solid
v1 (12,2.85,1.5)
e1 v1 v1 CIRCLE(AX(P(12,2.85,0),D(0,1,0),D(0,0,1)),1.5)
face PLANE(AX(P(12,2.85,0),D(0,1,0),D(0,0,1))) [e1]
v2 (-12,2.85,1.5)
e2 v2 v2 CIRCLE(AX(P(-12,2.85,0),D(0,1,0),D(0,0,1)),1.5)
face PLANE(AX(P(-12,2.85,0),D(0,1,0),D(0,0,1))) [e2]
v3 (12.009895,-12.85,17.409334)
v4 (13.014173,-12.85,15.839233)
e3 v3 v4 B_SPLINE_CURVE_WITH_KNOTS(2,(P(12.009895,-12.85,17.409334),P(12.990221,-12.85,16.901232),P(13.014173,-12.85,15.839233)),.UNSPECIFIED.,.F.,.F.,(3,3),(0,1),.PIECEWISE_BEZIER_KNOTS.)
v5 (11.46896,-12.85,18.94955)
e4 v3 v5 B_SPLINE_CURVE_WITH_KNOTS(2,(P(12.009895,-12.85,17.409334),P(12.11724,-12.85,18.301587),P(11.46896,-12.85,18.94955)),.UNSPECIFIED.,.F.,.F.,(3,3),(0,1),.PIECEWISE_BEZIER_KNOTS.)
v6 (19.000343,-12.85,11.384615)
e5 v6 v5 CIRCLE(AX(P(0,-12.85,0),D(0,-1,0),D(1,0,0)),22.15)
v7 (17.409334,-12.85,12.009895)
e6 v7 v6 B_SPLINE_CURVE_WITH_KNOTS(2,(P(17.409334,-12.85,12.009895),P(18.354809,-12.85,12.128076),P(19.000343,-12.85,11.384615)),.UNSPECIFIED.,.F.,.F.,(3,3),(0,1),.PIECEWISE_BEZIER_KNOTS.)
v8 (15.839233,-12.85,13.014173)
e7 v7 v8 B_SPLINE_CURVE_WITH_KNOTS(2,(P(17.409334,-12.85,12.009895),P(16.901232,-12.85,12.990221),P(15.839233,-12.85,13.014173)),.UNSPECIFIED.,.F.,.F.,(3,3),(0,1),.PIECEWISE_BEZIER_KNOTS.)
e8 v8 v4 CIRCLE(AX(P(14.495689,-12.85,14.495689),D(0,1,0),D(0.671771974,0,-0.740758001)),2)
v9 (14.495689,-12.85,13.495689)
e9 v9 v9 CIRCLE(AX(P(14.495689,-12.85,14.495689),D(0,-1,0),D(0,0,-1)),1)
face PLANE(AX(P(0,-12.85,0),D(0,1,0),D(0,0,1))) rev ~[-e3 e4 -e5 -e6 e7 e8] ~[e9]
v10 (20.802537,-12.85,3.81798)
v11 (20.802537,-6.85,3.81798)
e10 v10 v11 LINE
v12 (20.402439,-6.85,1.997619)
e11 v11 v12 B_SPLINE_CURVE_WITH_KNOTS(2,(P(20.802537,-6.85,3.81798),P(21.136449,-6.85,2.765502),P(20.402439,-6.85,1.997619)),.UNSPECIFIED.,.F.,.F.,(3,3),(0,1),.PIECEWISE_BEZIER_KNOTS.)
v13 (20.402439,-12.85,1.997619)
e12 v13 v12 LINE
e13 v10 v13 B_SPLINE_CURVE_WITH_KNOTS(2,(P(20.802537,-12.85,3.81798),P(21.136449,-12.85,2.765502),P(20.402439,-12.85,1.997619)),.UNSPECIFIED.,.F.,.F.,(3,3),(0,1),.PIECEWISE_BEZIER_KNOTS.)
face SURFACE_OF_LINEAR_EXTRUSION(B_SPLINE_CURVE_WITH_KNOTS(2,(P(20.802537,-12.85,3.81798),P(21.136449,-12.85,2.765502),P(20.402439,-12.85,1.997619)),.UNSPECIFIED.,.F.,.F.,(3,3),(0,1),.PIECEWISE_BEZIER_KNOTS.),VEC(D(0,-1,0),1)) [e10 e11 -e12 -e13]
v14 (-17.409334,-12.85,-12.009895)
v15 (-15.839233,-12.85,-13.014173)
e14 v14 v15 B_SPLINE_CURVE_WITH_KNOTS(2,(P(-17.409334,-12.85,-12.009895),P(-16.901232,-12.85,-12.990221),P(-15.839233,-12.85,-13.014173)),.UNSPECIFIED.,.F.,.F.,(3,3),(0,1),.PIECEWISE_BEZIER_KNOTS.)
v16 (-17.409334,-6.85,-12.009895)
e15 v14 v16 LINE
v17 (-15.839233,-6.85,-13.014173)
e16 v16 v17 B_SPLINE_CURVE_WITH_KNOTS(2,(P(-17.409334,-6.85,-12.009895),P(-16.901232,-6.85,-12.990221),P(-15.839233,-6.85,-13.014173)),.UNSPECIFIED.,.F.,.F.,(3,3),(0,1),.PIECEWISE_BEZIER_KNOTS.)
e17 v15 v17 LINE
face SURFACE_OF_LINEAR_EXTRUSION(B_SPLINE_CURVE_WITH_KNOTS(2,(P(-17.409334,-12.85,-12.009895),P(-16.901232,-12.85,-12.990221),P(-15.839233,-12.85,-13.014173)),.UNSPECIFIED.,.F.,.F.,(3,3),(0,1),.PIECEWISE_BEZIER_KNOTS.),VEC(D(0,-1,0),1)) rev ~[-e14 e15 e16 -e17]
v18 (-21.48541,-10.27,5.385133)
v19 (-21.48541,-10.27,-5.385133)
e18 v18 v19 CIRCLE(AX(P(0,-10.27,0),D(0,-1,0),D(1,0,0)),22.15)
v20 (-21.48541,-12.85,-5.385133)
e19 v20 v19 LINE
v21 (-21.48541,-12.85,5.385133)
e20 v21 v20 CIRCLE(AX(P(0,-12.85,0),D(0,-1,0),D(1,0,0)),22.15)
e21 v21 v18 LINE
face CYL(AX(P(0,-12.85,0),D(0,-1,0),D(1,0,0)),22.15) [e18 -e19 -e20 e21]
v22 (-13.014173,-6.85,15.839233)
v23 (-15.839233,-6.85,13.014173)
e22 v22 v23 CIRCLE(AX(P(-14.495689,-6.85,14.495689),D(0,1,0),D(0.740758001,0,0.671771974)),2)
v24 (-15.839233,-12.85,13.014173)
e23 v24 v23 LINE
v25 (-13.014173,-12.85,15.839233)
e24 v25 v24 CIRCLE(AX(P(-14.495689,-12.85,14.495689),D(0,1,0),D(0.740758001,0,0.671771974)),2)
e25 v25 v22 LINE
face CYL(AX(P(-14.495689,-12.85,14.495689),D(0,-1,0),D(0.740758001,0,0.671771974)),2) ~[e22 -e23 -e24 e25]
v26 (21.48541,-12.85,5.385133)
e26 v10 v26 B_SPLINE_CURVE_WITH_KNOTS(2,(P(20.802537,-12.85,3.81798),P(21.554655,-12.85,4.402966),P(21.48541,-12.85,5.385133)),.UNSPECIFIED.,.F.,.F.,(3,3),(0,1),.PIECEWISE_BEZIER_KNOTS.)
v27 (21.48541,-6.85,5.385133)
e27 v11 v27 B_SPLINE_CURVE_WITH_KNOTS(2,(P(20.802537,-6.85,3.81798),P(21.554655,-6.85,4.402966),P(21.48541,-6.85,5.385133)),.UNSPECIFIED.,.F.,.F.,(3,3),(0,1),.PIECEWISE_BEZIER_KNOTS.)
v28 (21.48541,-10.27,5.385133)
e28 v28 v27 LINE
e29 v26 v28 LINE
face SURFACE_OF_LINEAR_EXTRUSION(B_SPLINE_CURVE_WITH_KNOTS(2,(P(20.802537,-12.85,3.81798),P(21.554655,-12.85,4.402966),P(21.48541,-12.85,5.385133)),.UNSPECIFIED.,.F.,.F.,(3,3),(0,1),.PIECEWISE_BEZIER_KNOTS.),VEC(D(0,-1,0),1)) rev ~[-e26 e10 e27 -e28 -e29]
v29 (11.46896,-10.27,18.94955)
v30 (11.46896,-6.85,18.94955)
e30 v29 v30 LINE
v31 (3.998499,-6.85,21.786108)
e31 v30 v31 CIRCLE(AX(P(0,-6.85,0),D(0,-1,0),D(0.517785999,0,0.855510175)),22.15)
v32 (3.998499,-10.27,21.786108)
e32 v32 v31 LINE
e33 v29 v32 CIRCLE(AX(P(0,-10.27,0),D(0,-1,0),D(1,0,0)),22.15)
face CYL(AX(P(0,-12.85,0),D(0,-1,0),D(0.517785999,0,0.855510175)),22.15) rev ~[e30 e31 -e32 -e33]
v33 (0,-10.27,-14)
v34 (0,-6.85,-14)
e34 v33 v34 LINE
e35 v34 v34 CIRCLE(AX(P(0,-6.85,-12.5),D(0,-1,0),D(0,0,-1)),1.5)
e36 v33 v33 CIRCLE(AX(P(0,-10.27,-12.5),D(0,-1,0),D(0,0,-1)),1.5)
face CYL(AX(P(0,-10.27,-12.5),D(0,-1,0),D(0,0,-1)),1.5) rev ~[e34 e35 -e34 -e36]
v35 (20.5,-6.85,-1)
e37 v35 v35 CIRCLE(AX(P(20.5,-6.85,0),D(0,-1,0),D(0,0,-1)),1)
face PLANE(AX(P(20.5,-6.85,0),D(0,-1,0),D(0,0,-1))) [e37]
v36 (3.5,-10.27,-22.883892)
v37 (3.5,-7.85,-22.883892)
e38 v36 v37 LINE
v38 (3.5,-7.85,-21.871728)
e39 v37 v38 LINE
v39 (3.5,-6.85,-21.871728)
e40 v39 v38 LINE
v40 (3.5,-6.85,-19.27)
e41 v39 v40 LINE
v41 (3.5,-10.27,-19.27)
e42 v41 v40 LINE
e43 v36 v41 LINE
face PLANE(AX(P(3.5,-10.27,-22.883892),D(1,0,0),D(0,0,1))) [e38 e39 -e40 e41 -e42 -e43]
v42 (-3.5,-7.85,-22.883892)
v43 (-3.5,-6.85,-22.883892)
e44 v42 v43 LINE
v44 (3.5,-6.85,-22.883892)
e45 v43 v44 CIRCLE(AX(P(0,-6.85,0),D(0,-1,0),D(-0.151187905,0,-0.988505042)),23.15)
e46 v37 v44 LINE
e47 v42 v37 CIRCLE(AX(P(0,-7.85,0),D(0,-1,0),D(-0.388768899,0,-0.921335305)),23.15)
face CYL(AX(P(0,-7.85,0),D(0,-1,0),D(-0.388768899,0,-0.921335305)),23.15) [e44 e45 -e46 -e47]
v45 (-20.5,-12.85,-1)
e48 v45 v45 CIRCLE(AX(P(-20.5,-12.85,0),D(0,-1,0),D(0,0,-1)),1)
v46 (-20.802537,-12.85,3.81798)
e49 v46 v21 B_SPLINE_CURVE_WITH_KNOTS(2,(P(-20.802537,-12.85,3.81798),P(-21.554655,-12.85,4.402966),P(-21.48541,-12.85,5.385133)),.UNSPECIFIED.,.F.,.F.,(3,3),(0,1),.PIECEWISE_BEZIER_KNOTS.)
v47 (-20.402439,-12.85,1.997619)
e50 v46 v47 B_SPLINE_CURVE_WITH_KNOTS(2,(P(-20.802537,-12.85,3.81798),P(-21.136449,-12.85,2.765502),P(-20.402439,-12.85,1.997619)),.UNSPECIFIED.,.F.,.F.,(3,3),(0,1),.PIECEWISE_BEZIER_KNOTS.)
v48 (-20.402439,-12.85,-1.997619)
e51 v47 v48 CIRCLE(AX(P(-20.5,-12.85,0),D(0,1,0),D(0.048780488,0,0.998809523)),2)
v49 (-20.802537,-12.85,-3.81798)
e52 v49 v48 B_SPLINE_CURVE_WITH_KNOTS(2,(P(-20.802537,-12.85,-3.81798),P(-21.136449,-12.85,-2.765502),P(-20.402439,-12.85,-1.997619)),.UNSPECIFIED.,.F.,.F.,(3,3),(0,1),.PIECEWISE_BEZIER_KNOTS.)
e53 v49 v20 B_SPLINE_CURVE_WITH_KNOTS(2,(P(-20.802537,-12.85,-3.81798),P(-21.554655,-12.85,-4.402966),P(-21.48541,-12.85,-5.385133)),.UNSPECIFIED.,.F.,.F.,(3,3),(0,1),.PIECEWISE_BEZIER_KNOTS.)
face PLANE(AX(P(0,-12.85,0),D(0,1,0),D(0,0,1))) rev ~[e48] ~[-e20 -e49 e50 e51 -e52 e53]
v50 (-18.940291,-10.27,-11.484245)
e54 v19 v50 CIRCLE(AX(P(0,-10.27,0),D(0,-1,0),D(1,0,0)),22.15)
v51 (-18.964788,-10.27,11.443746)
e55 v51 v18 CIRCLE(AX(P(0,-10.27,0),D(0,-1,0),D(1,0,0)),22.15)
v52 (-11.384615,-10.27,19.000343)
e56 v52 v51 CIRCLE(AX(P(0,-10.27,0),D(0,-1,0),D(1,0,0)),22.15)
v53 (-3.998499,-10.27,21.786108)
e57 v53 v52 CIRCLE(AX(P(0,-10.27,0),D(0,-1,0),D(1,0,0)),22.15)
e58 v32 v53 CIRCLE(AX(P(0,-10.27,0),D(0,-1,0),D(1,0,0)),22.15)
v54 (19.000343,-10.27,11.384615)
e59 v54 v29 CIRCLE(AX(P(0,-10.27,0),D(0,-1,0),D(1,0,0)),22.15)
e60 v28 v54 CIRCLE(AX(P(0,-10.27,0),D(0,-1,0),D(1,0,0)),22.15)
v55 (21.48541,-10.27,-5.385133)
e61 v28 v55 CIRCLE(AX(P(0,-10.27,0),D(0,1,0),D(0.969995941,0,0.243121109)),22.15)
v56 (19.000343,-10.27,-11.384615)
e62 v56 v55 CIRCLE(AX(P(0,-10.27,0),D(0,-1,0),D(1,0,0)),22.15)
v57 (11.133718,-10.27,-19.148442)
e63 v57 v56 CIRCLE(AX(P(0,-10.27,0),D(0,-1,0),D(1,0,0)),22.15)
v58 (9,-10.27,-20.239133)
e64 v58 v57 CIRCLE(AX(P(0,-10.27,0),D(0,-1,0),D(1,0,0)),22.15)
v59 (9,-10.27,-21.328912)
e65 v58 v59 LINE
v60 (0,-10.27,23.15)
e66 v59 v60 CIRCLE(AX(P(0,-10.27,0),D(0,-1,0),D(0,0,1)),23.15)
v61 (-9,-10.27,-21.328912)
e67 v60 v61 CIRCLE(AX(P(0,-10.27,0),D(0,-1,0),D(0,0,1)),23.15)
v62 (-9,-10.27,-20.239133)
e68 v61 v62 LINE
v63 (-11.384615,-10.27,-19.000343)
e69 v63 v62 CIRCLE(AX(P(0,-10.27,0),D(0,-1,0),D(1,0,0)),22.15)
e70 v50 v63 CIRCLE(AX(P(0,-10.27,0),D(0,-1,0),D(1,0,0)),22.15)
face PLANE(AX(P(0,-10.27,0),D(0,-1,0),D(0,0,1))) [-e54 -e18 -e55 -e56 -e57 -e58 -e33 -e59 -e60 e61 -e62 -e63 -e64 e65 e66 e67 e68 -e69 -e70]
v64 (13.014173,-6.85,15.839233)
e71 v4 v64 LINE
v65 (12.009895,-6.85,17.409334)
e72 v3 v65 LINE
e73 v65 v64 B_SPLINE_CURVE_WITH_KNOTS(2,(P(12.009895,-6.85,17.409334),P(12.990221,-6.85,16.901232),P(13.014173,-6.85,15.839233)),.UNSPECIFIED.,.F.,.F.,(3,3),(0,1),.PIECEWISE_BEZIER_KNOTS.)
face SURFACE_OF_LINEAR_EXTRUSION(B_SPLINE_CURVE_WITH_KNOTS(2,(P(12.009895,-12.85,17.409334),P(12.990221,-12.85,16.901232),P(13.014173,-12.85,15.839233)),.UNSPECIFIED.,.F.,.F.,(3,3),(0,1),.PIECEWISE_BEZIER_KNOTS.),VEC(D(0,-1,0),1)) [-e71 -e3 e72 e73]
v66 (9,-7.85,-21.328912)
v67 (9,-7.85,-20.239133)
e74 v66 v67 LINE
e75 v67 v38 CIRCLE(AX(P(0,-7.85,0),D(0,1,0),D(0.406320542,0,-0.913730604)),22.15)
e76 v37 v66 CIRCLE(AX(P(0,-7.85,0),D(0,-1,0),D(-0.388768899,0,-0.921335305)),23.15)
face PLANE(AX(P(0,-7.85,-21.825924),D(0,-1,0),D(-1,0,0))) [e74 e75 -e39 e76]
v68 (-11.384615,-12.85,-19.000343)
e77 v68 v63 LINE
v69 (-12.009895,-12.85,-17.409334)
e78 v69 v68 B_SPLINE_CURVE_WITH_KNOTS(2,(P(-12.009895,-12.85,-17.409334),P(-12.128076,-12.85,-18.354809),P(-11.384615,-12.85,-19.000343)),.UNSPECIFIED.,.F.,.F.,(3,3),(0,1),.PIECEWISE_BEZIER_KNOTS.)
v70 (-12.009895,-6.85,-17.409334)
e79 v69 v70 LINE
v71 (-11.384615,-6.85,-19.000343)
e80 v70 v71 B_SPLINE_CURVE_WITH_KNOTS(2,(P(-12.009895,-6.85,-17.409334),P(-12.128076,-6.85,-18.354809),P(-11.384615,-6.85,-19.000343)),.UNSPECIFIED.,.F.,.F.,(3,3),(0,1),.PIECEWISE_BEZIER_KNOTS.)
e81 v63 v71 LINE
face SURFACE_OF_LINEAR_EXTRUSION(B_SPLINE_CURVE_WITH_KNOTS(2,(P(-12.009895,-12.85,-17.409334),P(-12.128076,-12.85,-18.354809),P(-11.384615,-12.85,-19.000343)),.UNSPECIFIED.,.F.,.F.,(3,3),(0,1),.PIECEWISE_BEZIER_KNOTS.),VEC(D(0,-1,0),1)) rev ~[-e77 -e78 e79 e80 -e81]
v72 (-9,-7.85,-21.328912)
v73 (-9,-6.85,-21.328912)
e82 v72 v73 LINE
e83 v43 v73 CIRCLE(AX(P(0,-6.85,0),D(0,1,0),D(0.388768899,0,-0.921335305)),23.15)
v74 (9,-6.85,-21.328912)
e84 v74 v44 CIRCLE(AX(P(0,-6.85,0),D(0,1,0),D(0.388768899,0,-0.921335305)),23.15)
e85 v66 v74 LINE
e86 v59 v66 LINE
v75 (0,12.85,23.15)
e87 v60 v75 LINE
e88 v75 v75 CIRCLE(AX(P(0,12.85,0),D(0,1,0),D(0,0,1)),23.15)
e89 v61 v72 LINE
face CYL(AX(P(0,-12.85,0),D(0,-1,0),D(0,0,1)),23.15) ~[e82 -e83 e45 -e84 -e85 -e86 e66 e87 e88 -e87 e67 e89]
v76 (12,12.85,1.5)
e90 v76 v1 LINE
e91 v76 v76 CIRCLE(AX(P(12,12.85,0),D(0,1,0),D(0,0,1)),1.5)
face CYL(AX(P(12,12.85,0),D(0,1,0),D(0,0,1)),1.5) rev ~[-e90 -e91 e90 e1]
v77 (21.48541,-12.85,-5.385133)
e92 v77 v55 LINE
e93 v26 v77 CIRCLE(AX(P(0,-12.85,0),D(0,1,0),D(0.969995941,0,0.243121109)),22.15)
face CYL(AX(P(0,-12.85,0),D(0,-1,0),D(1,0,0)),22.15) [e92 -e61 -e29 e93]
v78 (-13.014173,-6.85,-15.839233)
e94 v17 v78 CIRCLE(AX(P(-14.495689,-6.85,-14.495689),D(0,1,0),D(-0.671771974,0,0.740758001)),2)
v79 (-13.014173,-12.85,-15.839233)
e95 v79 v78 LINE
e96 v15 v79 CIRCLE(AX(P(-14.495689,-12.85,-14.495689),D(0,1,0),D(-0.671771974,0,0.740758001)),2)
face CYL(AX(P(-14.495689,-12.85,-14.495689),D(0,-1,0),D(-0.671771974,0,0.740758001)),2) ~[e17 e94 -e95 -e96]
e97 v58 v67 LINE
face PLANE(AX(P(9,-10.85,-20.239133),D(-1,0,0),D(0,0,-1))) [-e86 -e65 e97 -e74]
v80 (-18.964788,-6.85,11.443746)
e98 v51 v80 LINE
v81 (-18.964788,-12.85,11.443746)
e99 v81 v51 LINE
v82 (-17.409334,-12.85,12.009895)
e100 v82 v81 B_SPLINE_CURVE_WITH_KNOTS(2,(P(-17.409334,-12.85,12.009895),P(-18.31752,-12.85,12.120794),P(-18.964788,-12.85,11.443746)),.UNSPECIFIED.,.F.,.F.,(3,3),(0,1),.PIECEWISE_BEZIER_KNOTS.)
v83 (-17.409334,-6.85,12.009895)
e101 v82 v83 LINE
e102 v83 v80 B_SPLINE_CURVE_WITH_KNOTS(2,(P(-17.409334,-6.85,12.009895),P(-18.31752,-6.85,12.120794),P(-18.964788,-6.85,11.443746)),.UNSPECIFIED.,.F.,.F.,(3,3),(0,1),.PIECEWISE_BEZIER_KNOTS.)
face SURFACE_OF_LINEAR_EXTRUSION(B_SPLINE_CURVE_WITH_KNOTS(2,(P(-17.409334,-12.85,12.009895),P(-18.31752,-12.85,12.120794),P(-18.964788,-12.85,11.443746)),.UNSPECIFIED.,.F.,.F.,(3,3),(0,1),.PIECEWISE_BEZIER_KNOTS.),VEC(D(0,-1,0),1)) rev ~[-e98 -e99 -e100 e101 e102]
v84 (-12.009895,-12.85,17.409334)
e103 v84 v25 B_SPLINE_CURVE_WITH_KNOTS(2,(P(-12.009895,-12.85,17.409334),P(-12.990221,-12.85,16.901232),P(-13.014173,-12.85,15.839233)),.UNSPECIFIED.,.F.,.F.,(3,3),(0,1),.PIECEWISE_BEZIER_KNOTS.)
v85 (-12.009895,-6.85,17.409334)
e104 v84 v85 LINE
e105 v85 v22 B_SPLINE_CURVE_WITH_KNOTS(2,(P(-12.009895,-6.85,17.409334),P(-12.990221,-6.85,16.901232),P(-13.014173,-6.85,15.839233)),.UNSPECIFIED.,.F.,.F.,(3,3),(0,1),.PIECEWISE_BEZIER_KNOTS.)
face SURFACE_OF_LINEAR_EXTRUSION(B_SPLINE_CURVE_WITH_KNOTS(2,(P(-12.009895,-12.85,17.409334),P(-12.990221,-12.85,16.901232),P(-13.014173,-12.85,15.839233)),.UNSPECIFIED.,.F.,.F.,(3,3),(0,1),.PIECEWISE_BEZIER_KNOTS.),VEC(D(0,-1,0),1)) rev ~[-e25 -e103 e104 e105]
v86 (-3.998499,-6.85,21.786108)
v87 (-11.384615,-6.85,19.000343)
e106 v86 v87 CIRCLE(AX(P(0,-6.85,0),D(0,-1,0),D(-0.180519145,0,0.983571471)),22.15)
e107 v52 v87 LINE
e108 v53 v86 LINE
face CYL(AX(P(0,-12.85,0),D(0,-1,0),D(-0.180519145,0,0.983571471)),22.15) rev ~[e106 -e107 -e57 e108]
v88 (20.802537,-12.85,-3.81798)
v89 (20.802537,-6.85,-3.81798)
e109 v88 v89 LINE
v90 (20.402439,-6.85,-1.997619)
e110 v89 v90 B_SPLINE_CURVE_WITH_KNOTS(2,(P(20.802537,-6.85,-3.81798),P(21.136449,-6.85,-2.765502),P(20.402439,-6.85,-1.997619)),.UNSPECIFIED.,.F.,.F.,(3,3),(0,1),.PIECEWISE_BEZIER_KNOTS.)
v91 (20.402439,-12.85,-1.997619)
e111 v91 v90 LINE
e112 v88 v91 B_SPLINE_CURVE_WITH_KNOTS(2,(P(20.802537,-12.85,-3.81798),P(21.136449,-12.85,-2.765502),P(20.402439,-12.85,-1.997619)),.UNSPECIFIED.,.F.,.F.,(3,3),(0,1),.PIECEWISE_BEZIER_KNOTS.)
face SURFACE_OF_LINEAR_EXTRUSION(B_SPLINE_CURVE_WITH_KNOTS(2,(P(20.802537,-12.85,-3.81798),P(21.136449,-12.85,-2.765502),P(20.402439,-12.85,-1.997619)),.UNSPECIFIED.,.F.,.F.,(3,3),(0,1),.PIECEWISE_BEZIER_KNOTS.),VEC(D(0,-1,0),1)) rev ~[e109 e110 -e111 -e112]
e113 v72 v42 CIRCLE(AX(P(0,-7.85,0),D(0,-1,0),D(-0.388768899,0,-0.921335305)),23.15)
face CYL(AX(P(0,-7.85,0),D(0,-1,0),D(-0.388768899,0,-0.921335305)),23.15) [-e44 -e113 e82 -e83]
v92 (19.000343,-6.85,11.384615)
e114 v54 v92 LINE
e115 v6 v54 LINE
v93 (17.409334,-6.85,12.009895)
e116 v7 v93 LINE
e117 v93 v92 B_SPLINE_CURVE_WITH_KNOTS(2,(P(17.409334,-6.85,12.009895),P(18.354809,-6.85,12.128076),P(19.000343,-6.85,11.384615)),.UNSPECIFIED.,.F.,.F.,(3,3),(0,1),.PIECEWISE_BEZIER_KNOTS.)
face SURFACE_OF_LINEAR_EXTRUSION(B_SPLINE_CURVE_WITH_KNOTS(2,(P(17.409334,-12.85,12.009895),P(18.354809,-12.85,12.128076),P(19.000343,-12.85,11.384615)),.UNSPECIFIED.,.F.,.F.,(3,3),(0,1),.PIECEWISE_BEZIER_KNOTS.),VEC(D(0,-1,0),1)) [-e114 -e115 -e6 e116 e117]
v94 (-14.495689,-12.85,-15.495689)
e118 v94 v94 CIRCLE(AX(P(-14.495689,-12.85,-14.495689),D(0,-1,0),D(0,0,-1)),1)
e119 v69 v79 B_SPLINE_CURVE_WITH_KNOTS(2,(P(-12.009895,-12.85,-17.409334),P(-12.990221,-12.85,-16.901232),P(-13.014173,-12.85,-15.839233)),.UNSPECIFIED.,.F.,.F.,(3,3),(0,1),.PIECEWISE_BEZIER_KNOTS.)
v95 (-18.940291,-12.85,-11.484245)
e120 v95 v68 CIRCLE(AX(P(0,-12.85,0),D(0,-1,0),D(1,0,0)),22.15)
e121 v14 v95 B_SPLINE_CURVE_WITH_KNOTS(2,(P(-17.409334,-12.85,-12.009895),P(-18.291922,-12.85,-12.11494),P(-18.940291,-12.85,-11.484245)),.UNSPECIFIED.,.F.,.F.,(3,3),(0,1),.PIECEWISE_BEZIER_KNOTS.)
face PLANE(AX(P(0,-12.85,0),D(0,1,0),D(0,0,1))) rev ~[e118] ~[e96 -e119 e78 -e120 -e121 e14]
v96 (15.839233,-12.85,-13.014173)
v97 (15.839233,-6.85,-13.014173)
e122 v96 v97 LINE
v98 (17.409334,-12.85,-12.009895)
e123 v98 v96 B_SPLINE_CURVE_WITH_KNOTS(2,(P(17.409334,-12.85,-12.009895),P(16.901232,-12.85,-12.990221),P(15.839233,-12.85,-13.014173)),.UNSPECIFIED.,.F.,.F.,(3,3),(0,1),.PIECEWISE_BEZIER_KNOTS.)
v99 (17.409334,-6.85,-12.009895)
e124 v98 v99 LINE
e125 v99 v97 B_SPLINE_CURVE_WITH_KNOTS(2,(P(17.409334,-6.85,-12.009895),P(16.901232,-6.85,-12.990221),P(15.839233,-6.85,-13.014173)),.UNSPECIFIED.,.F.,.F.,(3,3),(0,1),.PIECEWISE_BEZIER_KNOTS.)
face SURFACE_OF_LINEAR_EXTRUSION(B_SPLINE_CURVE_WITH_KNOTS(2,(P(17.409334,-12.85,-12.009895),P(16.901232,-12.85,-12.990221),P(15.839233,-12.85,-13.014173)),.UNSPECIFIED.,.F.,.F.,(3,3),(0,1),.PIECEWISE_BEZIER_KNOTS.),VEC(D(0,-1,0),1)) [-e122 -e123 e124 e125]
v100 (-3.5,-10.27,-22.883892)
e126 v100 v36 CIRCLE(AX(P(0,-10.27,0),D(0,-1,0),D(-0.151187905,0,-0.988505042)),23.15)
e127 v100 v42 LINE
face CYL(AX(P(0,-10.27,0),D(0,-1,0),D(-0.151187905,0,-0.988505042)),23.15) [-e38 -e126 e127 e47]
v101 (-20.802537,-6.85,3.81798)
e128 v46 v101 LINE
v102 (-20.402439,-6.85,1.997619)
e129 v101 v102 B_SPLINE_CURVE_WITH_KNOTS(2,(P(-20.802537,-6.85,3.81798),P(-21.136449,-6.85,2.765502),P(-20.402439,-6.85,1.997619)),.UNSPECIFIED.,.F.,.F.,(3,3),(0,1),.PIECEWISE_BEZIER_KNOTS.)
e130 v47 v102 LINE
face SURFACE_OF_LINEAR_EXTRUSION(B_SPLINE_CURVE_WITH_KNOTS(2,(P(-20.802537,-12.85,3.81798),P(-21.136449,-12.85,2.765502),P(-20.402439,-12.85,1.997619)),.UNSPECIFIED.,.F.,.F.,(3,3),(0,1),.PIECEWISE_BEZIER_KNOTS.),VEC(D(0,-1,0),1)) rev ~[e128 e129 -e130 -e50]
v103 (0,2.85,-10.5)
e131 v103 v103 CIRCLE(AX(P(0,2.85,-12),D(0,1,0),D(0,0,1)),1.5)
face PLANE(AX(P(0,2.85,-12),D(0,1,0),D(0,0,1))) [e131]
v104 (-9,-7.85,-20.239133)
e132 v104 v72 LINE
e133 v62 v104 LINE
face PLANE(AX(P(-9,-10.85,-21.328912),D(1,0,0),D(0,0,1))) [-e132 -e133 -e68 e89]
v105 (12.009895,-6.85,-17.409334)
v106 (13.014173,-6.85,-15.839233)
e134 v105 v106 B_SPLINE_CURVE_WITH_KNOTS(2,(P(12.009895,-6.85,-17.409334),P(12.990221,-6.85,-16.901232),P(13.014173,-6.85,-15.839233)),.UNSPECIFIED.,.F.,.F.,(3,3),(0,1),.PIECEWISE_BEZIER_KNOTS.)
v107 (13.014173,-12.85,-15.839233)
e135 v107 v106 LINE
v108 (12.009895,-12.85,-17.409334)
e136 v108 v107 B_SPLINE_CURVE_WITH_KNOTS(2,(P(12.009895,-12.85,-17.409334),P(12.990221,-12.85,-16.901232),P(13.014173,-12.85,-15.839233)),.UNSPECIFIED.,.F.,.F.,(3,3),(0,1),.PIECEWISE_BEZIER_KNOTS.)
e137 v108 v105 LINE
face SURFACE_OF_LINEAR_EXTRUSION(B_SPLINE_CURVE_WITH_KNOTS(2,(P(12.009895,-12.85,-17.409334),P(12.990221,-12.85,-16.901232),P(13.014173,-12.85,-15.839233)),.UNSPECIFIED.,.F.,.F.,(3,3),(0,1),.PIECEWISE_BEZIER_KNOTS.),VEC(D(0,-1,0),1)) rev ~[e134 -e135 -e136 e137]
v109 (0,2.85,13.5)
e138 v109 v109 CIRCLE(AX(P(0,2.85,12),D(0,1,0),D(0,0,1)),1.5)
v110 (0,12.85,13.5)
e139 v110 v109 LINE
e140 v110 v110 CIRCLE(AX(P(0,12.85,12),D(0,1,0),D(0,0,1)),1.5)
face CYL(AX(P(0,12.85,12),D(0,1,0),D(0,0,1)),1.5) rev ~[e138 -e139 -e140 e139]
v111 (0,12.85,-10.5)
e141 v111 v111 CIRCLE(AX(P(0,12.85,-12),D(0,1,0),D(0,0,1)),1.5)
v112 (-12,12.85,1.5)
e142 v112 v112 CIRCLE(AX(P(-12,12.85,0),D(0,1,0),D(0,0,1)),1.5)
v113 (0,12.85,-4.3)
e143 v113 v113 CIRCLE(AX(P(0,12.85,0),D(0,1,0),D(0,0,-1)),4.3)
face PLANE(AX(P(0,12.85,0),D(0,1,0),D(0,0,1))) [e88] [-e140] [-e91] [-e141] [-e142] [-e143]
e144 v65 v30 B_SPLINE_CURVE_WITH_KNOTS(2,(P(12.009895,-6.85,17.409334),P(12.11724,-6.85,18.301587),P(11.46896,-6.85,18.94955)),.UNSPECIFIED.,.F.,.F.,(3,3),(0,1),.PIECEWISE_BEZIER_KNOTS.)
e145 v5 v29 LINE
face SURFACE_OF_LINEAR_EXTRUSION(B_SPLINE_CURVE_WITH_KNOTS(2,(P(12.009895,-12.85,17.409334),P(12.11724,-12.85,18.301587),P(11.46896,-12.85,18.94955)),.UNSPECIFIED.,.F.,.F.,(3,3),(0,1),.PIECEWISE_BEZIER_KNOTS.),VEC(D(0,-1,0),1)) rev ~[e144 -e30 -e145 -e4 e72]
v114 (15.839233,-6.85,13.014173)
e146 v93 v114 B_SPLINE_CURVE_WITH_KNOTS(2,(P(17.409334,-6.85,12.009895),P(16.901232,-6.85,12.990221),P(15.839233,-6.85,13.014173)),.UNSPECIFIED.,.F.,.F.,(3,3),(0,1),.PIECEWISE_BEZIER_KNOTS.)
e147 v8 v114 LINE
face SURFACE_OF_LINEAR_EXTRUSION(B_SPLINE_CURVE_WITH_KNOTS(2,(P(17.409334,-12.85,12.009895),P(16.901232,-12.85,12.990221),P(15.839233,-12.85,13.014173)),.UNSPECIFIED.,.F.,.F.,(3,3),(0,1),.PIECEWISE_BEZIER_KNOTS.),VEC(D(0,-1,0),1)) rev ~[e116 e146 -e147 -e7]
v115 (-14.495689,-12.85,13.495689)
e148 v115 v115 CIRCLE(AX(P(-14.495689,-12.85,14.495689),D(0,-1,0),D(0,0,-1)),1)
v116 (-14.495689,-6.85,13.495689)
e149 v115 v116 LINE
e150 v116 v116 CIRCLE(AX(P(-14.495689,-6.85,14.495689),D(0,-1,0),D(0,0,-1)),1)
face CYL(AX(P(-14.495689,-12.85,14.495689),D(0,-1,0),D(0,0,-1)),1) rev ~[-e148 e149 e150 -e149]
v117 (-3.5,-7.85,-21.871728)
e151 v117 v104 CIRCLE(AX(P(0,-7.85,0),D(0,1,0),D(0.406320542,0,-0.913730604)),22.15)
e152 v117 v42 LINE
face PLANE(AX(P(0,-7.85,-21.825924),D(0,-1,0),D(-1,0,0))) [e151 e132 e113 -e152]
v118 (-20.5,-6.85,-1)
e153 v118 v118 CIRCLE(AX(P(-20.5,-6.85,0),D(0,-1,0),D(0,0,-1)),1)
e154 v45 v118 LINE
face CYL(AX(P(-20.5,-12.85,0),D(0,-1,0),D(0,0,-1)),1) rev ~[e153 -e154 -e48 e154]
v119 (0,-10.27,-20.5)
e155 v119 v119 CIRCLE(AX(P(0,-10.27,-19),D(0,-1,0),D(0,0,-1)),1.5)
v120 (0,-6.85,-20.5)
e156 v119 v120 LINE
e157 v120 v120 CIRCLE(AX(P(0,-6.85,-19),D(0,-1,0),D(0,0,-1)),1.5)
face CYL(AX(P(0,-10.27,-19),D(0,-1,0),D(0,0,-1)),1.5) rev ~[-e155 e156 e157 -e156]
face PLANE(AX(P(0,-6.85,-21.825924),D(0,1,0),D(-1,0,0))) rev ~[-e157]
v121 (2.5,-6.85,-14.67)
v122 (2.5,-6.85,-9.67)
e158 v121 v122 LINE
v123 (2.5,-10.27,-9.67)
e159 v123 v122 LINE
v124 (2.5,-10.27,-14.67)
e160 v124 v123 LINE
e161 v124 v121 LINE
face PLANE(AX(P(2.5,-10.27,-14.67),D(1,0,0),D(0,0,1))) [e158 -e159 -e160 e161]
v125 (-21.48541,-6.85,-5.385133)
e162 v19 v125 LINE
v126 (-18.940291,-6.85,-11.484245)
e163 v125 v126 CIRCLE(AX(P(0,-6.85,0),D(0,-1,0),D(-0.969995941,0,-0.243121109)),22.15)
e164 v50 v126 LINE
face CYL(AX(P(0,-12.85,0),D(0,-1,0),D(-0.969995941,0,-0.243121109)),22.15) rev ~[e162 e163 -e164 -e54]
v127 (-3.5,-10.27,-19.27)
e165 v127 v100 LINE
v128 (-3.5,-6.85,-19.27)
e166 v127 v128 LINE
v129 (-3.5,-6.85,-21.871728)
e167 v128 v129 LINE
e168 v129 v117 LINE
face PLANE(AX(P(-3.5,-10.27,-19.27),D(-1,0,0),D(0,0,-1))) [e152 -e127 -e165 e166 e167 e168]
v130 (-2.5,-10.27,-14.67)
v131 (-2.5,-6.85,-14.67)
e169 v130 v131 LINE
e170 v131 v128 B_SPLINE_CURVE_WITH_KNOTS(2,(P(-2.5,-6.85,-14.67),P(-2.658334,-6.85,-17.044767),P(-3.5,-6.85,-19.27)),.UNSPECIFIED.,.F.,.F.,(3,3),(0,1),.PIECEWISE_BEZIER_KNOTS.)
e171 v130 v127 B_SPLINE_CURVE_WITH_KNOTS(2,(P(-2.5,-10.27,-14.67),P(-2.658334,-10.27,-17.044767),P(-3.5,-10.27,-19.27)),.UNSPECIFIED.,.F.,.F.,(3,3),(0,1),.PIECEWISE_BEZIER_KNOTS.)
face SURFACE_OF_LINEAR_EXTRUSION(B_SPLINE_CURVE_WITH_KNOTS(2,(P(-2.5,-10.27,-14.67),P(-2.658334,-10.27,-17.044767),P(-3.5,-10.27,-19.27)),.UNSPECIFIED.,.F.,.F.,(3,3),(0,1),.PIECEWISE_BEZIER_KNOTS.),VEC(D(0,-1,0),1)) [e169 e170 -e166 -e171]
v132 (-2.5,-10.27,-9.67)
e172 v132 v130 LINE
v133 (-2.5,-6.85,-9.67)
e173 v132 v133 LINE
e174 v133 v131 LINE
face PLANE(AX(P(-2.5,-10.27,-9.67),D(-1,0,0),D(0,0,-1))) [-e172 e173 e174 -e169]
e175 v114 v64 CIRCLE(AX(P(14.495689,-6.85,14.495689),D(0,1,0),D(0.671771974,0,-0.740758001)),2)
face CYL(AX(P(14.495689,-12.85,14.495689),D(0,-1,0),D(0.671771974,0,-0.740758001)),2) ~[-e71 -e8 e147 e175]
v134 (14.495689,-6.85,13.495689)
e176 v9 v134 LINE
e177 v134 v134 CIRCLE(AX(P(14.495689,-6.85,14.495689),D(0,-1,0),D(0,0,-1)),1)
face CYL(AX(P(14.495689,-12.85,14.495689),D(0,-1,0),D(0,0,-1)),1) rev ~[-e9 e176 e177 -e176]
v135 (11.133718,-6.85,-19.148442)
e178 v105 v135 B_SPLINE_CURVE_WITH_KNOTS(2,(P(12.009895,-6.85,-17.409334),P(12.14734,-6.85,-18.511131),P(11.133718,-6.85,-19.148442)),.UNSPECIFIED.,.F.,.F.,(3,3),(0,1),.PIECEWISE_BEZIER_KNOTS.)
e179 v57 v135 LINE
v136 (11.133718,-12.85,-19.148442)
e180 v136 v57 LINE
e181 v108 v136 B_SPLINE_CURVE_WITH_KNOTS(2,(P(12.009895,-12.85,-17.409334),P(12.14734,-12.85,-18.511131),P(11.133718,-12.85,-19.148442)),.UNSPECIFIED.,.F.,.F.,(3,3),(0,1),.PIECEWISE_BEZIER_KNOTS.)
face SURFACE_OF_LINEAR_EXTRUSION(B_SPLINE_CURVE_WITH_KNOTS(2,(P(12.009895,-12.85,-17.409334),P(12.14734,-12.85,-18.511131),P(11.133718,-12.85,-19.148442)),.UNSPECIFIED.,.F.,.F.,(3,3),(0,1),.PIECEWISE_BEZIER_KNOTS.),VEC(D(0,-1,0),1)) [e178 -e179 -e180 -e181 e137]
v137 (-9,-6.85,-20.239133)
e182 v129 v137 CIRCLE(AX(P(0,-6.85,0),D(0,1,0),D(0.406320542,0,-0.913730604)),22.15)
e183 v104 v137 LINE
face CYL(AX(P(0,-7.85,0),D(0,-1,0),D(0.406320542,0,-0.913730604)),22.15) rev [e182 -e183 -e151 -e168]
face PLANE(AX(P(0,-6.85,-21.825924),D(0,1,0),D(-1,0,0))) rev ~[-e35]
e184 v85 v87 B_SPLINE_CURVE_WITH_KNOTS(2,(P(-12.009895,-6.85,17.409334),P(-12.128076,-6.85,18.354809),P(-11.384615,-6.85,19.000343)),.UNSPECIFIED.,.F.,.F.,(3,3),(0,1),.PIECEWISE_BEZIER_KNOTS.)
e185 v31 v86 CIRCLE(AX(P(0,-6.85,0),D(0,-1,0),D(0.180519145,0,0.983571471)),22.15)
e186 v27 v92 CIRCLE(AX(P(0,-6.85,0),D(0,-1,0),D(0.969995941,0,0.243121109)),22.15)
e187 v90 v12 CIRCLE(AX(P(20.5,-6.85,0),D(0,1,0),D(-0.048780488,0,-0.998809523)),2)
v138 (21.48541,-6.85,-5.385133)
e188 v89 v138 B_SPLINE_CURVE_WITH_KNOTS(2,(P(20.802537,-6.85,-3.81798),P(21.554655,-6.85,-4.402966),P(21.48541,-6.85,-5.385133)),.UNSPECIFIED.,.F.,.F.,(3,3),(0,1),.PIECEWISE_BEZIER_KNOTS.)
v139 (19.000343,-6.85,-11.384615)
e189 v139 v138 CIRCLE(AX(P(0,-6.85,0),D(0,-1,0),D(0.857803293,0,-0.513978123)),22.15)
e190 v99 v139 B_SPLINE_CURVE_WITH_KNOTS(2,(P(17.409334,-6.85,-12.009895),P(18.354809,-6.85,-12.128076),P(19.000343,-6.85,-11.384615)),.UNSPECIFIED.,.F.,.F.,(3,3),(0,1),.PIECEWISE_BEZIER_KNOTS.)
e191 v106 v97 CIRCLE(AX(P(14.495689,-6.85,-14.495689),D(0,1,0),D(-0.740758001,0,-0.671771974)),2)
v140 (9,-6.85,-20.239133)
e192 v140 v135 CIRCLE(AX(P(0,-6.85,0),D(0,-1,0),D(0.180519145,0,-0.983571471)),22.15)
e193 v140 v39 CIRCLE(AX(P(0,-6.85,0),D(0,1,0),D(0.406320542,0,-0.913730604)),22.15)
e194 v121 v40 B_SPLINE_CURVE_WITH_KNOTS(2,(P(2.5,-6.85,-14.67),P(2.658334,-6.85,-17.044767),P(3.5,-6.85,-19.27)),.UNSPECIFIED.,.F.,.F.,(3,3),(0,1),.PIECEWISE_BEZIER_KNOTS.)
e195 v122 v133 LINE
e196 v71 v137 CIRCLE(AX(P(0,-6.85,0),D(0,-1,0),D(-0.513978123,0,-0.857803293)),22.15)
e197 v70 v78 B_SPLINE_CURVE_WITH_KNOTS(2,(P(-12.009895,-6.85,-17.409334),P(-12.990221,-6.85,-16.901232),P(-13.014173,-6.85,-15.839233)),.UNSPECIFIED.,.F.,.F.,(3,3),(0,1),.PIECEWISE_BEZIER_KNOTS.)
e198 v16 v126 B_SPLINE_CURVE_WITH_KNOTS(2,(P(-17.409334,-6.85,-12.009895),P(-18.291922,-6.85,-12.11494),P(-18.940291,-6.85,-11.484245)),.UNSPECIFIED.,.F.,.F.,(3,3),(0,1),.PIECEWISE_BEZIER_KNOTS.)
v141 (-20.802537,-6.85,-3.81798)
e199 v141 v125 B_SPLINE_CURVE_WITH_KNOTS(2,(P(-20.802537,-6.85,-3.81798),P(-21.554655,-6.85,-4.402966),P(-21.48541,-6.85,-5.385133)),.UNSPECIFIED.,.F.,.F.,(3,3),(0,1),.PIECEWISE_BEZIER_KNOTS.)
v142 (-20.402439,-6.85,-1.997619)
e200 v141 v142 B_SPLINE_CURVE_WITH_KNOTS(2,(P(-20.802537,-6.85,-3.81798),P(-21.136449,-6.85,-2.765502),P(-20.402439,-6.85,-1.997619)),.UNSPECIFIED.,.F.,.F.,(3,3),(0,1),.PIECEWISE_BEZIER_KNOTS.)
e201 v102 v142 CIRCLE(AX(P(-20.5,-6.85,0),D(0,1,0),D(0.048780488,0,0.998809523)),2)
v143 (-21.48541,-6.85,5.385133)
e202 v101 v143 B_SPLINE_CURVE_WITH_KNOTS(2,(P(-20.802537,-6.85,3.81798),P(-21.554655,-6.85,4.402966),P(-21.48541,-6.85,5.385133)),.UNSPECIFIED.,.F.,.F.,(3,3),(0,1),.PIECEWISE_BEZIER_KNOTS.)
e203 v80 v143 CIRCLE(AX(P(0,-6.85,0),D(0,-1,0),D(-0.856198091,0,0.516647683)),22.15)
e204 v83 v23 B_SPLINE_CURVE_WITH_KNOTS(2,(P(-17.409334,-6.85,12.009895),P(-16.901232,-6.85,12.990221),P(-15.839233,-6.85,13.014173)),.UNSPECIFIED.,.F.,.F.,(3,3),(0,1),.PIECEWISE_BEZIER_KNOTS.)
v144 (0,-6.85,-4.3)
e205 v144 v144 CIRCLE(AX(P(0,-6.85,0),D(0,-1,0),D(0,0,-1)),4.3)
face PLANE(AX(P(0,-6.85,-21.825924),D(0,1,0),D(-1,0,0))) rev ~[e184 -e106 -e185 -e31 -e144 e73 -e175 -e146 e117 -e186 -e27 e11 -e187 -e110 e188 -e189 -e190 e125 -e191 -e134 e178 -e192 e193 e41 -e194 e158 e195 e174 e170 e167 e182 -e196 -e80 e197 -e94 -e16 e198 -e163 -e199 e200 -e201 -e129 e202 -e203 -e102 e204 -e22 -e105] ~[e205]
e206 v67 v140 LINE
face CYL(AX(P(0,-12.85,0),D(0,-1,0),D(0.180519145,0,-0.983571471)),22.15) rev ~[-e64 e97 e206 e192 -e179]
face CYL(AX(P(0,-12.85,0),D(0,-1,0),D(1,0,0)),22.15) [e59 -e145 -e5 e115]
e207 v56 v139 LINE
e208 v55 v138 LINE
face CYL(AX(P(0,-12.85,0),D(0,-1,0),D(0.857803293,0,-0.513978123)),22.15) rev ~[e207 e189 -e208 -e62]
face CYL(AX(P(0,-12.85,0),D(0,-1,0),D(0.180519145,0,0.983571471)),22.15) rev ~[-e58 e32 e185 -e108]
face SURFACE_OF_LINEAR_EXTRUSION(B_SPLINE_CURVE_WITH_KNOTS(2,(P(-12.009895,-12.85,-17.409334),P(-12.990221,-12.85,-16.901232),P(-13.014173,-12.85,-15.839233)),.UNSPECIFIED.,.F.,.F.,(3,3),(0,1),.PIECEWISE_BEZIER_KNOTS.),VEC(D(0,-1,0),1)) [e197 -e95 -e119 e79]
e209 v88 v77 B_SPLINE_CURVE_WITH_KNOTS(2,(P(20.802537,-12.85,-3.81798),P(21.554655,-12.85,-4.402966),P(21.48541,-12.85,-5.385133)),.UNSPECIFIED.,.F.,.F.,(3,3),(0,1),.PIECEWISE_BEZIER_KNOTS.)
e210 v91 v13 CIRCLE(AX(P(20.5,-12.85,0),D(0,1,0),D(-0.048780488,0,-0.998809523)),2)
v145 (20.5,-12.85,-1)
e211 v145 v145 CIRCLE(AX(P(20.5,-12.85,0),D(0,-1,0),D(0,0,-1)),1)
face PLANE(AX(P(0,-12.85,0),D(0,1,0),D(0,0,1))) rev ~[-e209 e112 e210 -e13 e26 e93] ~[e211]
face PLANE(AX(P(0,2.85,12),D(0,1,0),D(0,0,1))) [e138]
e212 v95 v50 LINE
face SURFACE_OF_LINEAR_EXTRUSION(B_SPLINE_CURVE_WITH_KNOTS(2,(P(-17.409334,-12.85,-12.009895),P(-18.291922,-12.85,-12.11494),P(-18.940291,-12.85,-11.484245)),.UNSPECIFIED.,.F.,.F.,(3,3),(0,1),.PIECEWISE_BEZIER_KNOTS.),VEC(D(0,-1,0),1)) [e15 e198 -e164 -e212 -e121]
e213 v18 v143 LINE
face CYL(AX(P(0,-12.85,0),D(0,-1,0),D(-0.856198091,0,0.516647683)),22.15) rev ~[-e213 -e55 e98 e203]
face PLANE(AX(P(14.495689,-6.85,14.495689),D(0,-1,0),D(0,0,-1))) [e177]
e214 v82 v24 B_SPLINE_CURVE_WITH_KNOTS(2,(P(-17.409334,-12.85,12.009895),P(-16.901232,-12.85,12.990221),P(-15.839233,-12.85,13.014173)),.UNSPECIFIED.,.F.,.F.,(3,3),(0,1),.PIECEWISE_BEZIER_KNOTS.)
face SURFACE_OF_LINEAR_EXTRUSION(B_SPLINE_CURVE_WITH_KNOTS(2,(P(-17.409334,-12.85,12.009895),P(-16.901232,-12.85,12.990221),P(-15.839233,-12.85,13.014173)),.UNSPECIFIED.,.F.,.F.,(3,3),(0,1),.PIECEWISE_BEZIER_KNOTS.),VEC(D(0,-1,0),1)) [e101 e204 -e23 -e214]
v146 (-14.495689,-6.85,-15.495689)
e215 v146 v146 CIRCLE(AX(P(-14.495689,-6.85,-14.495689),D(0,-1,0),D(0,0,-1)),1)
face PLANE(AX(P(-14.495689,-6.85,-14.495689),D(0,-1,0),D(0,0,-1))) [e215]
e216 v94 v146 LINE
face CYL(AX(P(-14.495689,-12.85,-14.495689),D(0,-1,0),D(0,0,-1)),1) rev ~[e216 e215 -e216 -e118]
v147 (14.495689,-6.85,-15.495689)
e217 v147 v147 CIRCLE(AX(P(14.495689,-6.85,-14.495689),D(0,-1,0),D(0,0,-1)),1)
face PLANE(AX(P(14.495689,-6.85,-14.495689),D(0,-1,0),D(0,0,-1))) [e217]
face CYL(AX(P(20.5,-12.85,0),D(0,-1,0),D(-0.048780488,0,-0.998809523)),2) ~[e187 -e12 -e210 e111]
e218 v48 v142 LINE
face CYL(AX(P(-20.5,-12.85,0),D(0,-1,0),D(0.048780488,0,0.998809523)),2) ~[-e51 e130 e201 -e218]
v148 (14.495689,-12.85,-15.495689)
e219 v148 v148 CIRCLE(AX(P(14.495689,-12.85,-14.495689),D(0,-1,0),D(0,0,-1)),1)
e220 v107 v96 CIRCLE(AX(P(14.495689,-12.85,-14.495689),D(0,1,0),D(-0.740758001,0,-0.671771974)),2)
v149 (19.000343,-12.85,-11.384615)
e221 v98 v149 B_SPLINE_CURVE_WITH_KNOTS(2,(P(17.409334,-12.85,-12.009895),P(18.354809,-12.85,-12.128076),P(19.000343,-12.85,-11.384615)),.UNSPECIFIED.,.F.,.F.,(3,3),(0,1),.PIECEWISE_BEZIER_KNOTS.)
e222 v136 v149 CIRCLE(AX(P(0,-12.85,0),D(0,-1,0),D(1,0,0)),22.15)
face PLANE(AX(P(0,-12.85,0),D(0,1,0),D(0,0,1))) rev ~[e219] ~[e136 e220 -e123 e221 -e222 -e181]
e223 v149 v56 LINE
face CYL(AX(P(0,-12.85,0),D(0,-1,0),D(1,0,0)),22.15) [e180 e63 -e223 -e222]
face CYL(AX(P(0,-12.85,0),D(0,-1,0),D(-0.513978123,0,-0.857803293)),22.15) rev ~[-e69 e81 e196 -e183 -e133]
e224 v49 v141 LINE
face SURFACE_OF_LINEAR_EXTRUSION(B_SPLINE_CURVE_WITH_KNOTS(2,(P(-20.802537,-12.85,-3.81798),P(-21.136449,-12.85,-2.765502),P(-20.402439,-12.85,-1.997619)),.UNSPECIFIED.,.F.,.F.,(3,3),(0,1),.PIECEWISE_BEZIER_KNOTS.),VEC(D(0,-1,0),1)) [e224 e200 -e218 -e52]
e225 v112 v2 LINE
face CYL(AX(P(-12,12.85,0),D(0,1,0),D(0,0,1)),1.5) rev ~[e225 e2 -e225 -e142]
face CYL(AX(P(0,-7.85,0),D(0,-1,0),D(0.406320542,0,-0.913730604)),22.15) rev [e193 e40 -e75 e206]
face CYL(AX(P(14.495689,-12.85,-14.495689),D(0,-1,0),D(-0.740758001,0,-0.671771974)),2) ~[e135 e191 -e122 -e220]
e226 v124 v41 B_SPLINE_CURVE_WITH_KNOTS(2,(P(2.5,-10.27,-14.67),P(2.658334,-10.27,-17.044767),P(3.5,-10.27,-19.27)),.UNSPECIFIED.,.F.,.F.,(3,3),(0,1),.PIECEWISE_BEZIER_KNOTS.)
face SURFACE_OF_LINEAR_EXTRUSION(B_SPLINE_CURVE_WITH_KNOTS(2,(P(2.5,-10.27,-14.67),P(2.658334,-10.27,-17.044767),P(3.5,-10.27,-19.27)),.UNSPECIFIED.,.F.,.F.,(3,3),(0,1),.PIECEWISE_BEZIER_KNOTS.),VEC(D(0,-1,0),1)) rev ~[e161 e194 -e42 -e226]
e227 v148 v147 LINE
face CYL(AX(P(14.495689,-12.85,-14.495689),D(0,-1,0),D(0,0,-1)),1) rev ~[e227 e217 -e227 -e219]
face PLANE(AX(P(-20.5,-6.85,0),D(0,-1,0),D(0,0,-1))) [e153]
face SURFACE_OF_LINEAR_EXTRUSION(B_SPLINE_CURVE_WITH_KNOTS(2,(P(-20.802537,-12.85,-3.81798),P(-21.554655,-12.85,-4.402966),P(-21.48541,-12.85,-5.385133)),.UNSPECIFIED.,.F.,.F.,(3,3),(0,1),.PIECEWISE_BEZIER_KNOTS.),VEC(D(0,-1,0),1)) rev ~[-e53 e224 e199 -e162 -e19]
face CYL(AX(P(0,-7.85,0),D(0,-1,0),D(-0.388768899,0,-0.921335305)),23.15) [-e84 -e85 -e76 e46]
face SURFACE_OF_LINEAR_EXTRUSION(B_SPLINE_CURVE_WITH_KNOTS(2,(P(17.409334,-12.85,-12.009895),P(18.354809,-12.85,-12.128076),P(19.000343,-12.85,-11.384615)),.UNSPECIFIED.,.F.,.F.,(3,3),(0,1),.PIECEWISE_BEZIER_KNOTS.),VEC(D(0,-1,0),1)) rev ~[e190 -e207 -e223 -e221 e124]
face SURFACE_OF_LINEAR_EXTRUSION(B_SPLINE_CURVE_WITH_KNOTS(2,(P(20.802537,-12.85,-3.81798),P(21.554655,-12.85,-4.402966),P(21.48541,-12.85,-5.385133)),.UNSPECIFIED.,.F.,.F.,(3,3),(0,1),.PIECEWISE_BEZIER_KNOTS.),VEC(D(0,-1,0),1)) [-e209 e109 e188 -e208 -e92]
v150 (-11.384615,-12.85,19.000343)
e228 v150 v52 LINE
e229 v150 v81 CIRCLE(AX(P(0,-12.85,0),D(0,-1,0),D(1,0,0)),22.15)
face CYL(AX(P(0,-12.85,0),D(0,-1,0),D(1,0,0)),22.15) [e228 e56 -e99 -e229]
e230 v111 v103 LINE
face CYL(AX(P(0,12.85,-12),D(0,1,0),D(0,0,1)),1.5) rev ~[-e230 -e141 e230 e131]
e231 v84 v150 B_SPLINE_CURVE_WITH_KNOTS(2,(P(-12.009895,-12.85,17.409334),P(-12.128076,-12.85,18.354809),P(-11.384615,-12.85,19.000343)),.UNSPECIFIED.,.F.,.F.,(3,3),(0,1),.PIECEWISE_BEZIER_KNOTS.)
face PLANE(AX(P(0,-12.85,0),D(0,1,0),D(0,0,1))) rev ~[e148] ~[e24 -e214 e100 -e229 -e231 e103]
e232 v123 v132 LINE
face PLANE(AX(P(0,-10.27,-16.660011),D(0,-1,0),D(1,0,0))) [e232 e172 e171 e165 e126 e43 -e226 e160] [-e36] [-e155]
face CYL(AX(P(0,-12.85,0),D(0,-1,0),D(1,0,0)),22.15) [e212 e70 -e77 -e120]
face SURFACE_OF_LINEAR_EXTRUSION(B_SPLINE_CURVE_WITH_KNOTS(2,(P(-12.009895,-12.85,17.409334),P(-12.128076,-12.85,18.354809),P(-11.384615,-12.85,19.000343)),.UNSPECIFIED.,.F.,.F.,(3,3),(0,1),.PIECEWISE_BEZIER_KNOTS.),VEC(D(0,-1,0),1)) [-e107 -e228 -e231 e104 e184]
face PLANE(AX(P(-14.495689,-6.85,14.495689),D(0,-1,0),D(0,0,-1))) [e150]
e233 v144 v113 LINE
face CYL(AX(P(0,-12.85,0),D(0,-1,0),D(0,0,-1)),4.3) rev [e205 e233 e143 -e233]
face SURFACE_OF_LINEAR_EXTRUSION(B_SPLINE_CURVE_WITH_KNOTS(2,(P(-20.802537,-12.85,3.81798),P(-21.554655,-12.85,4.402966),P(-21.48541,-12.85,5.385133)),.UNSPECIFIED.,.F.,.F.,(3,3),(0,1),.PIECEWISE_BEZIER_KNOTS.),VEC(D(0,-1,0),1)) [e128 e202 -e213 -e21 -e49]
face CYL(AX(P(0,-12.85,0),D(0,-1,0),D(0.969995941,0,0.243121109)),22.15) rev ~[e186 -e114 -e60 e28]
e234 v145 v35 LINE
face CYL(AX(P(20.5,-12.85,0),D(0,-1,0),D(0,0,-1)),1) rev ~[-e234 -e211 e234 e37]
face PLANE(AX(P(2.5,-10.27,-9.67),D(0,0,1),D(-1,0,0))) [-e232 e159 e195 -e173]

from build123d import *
from build123d.topology import SkipClean

# Parameters (mm, degrees)
EXTRUDE_1_DEPTH          = 12.85
EXTRUDE_1_DEPTH_BACK     = 12.85
SKETCH_1_R               = 23.15
CUT_EXTRUDE_1_DEPTH      = 12.85
CUT_EXTRUDE_1_DEPTH_BACK = 12.85
SKETCH_2_R               = 4.3
SKETCH_5_R               = 4.3
SKETCH_5_R_2             = 1
CUT_EXTRUDE_2_DEPTH      = 6
SKETCH_7_R               = 23.15
SKETCH_7_R_2             = 22.15
CUT_EXTRUDE_8_DEPTH      = 2.58
CUT_EXTRUDE_START        = 4
CUT_EXTRUDE_10_DEPTH     = 4
EXTRUDE_2_DEPTH          = 1
EXTRUDE_START            = 3.42
SKETCH_11_R              = 1.5
EXTRUDE_3_DEPTH          = 3.42
SKETCH_12_R              = 1.5
CUT_EXTRUDE_11_DEPTH     = 10


with BuildPart() as part:
    # 草图1 → 凸台-拉伸1 (new, two sides: drawn at the far end of the back side and taken through both)
    with BuildSketch(Plane(origin=(0, 0, 0), x_dir=(1, 0, 0), z_dir=(0, 1, 0)).offset(-EXTRUDE_1_DEPTH_BACK)):
        with Locations(Location((0, 0, 0), (0, 0, 270))):
            Circle(SKETCH_1_R)
    extrude(amount=EXTRUDE_1_DEPTH + EXTRUDE_1_DEPTH_BACK)

    # 草图2 → 切除-拉伸1 (cut, two sides: drawn at the far end of the back side and taken through both)
    with BuildSketch(Plane(origin=(0, 0, 0), x_dir=(1, 0, 0), z_dir=(0, 1, 0)).offset(-CUT_EXTRUDE_1_DEPTH_BACK)):
        with Locations(Location((0, 0, 0), (0, 0, 90))):
            Circle(SKETCH_2_R)
    extrude(amount=CUT_EXTRUDE_1_DEPTH + CUT_EXTRUDE_1_DEPTH_BACK, mode=Mode.SUBTRACT)

    # 草图5 → 切除-拉伸2 (cut)
    # profile 1 of 7: a face of its own
    with BuildSketch(Plane.XZ.offset(12.85)):
        with BuildLine():
            add(Edge.make_bspline(
                [(20.802536608, 3.817979922), (21.136448657, 2.765502233), (20.402439024, 1.997619047)],
                knots=[0, 0, 0, 1, 1, 1], degree=2))
            add(Edge.make_bspline(
                [(20.802536608, 3.817979922), (21.554654611, 4.402965713), (21.485410101, 5.38513257)],
                knots=[0, 0, 0, 1, 1, 1], degree=2))
            ThreePointArc((21.485410101, 5.38513257), (20.463931645, 8.476438027), (19.000342937, 11.384615421))
            add(Edge.make_bspline(
                [(17.409334195, 12.009895208), (18.354809355, 12.128075529), (19.000342937, 11.384615421)],
                knots=[0, 0, 0, 1, 1, 1], degree=2))
            add(Edge.make_bspline(
                [(17.409334195, 12.009895208), (16.901231558, 12.990220793), (15.839232961, 13.014173013)],
                knots=[0, 0, 0, 1, 1, 1], degree=2))
            ThreePointArc((15.839232961, 13.014173013), (13.081475452, 13.081475452), (13.014173013, 15.839232961))
            add(Edge.make_bspline(
                [(12.009895208, 17.409334195), (12.990220793, 16.901231558), (13.014173013, 15.839232961)],
                knots=[0, 0, 0, 1, 1, 1], degree=2))
            add(Edge.make_bspline(
                [(12.009895208, 17.409334195), (12.11724016, 18.301586859), (11.468959869, 18.949550378)],
                knots=[0, 0, 0, 1, 1, 1], degree=2))
            ThreePointArc((11.468959869, 18.949550378), (7.862702232, 20.707496556), (3.998499067, 21.786108079))
            ThreePointArc((3.998499067, 21.786108079), (0, 22.15), (-3.998499067, 21.786108079))
            ThreePointArc((-3.998499067, 21.786108079), (-7.816660073, 20.724920393), (-11.384615421, 19.000342937))
            add(Edge.make_bspline(
                [(-12.009895208, 17.409334195), (-12.128075529, 18.354809355), (-11.384615421, 19.000342937)],
                knots=[0, 0, 0, 1, 1, 1], degree=2))
            add(Edge.make_bspline(
                [(-12.009895208, 17.409334195), (-12.990220793, 16.901231558), (-13.014173013, 15.839232961)],
                knots=[0, 0, 0, 1, 1, 1], degree=2))
            ThreePointArc((-13.014173013, 15.839232961), (-13.081475452, 13.081475452), (-15.839232961, 13.014173013))
            add(Edge.make_bspline(
                [(-17.409334195, 12.009895208), (-16.901231558, 12.990220793), (-15.839232961, 13.014173013)],
                knots=[0, 0, 0, 1, 1, 1], degree=2))
            add(Edge.make_bspline(
                [(-17.409334195, 12.009895208), (-18.317519727, 12.120793632), (-18.964787718, 11.443746188)],
                knots=[0, 0, 0, 1, 1, 1], degree=2))
            ThreePointArc((-18.964787718, 11.443746188), (-20.450704771, 8.508300321), (-21.485410101, 5.38513257))
            add(Edge.make_bspline(
                [(-20.802536608, 3.817979922), (-21.554654611, 4.402965713), (-21.485410101, 5.38513257)],
                knots=[0, 0, 0, 1, 1, 1], degree=2))
            add(Edge.make_bspline(
                [(-20.802536608, 3.817979922), (-21.136448657, 2.765502233), (-20.402439024, 1.997619047)],
                knots=[0, 0, 0, 1, 1, 1], degree=2))
            ThreePointArc((-20.402439024, 1.997619047), (-18.5, 0), (-20.402439024, -1.997619047))
            add(Edge.make_bspline(
                [(-20.802536608, -3.817979922), (-21.136448657, -2.765502233), (-20.402439024, -1.997619047)],
                knots=[0, 0, 0, 1, 1, 1], degree=2))
            add(Edge.make_bspline(
                [(-20.802536608, -3.817979922), (-21.554654611, -4.402965713), (-21.485410101, -5.38513257)],
                knots=[0, 0, 0, 1, 1, 1], degree=2))
            ThreePointArc((-21.485410101, -5.38513257), (-20.44160266, -8.530145409), (-18.940290978, -11.484244758))
            add(Edge.make_bspline(
                [(-17.409334195, -12.009895208), (-18.291922365, -12.11493984), (-18.940290978, -11.484244758)],
                knots=[0, 0, 0, 1, 1, 1], degree=2))
            add(Edge.make_bspline(
                [(-17.409334195, -12.009895208), (-16.901231558, -12.990220793), (-15.839232961, -13.014173013)],
                knots=[0, 0, 0, 1, 1, 1], degree=2))
            ThreePointArc((-15.839232961, -13.014173013), (-13.081475452, -13.081475452), (-13.014173013, -15.839232961))
            add(Edge.make_bspline(
                [(-12.009895208, -17.409334195), (-12.990220793, -16.901231558), (-13.014173013, -15.839232961)],
                knots=[0, 0, 0, 1, 1, 1], degree=2))
            add(Edge.make_bspline(
                [(-12.009895208, -17.409334195), (-12.128075529, -18.354809355), (-11.384615421, -19.000342937)],
                knots=[0, 0, 0, 1, 1, 1], degree=2))
            ThreePointArc((-11.384615421, -19.000342937), (-7.816660073, -20.724920393), (-3.998499067, -21.786108079))
            ThreePointArc((-3.998499067, -21.786108079), (0, -22.15), (3.998499067, -21.786108079))
            ThreePointArc((3.998499067, -21.786108079), (7.68019027, -20.775879703), (11.133718408, -19.148441566))
            add(Edge.make_bspline(
                [(12.009895208, -17.409334195), (12.147339907, -18.511130847), (11.133718408, -19.148441566)],
                knots=[0, 0, 0, 1, 1, 1], degree=2))
            add(Edge.make_bspline(
                [(12.009895208, -17.409334195), (12.990220793, -16.901231558), (13.014173013, -15.839232961)],
                knots=[0, 0, 0, 1, 1, 1], degree=2))
            ThreePointArc((13.014173013, -15.839232961), (13.081475452, -13.081475452), (15.839232961, -13.014173013))
            add(Edge.make_bspline(
                [(17.409334195, -12.009895208), (16.901231558, -12.990220793), (15.839232961, -13.014173013)],
                knots=[0, 0, 0, 1, 1, 1], degree=2))
            add(Edge.make_bspline(
                [(17.409334195, -12.009895208), (18.354809355, -12.128075529), (19.000342937, -11.384615421)],
                knots=[0, 0, 0, 1, 1, 1], degree=2))
            ThreePointArc((19.000342937, -11.384615421), (20.463931645, -8.476438027), (21.485410101, -5.38513257))
            add(Edge.make_bspline(
                [(20.802536608, -3.817979922), (21.554654611, -4.402965713), (21.485410101, -5.38513257)],
                knots=[0, 0, 0, 1, 1, 1], degree=2))
            add(Edge.make_bspline(
                [(20.802536608, -3.817979922), (21.136448657, -2.765502233), (20.402439024, -1.997619047)],
                knots=[0, 0, 0, 1, 1, 1], degree=2))
            ThreePointArc((20.402439024, -1.997619047), (18.5, 0), (20.402439024, 1.997619047))
        make_face()
        with Locations(Location((0, 0, 0), (0, 0, 270))):
            Circle(SKETCH_5_R, mode=Mode.SUBTRACT)
    # profile 2 of 7: a face of its own
    with BuildSketch(Plane.XZ.offset(12.85)):
        with Locations(Location((20.5, 0, 0), (0, 0, 270))):
            Circle(SKETCH_5_R_2)
    # profile 3 of 7: a face of its own
    with BuildSketch(Plane.XZ.offset(12.85)):
        with Locations(Location((14.495689014, -14.495689014, 0), (0, 0, 270))):
            Circle(SKETCH_5_R_2)
    # profile 4 of 7: a face of its own
    with BuildSketch(Plane.XZ.offset(12.85)):
        with Locations(Location((-14.495689014, -14.495689014, 0), (0, 0, 270))):
            Circle(SKETCH_5_R_2)
    # profile 5 of 7: a face of its own
    with BuildSketch(Plane.XZ.offset(12.85)):
        with Locations(Location((-20.5, 0, 0), (0, 0, 270))):
            Circle(SKETCH_5_R_2)
    # profile 6 of 7: a face of its own
    with BuildSketch(Plane.XZ.offset(12.85)):
        with Locations(Location((-14.495689014, 14.495689014, 0), (0, 0, 270))):
            Circle(SKETCH_5_R_2)
    # profile 7 of 7: a face of its own
    with BuildSketch(Plane.XZ.offset(12.85)):
        with Locations(Location((14.495689014, 14.495689014, 0), (0, 0, 270))):
            Circle(SKETCH_5_R_2)
    extrude(amount=-CUT_EXTRUDE_2_DEPTH, mode=Mode.SUBTRACT)

    # 草图7 → 切除-拉伸8 (cut)
    with BuildSketch(Plane.XZ.offset(12.85)):
        with Locations(Location((0, 0, 0), (0, 0, 90))):
            Circle(SKETCH_7_R)
        Circle(SKETCH_7_R_2, mode=Mode.SUBTRACT)
    extrude(amount=-CUT_EXTRUDE_8_DEPTH, mode=Mode.SUBTRACT)

    # 草图10 → 切除-拉伸10 (cut)
    with BuildSketch(Plane.XZ.offset(6.85).offset(CUT_EXTRUDE_START)):
        with BuildLine():
            Line((-9, -21.328912302), (-9, -20.239132887))
            ThreePointArc((-9, -20.239132887), (0, -22.15), (9, -20.239132887))
            Line((9, -20.239132887), (9, -21.328912302))
            ThreePointArc((9, -21.328912302), (0, -23.15), (-9, -21.328912302))
        make_face()
    extrude(amount=-CUT_EXTRUDE_10_DEPTH, mode=Mode.SUBTRACT)

    # 草图9 → 凸台-拉伸2 (add)
    with SkipClean():  # the faces are left unmerged after this step: merging them gives an invalid solid
        with BuildSketch(Plane(origin=(0, -7.85, 0), x_dir=(-1, 0, 0), z_dir=(0, -1, 0))):
            with BuildLine():
                Line((-9, 21.328912302), (-9, 20.239132887))
                ThreePointArc((-9, 20.239132887), (0, 22.15), (9, 20.239132887))
                Line((9, 20.239132887), (9, 21.328912302))
                ThreePointArc((9, 21.328912302), (0, 23.15), (-9, 21.328912302))
            make_face()
        extrude(amount=-EXTRUDE_2_DEPTH)

    # 草图11 → 凸台-拉伸3 (add)
    with SkipClean():  # the faces are left unmerged after this step: merging them gives an invalid solid
        with BuildSketch(Plane.XZ.offset(6.85).offset(EXTRUDE_START)):
            with BuildLine():
                Line((2.5, -9.67), (-2.5, -9.67))
                Line((-2.5, -9.67), (-2.5, -14.67))
                add(Edge.make_bspline(
                    [(-2.5, -14.67), (-2.658334467, -17.044766609), (-3.5, -19.27)],
                    knots=[0, 0, 0, 1, 1, 1], degree=2))
                Line((-3.5, -19.27), (-3.5, -22.883891714))
                ThreePointArc((-3.5, -22.883891714), (0, -23.15), (3.5, -22.883891714))
                Line((3.5, -22.883891714), (3.5, -19.27))
                add(Edge.make_bspline(
                    [(2.5, -14.67), (2.658334467, -17.044766609), (3.5, -19.27)],
                    knots=[0, 0, 0, 1, 1, 1], degree=2))
                Line((2.5, -14.67), (2.5, -9.67))
            make_face()
            with Locations(Location((0, -12.5, 0), (0, 0, 270))):
                Circle(SKETCH_11_R, mode=Mode.SUBTRACT)
            with Locations(Location((0, -19, 0), (0, 0, 270))):
                Circle(SKETCH_11_R, mode=Mode.SUBTRACT)
        extrude(amount=-EXTRUDE_3_DEPTH)

    # 草图12 → 切除-拉伸11 (cut)
    with SkipClean():  # the faces are left unmerged after this step: merging them gives an invalid solid
        with BuildSketch(Plane(origin=(0, 12.85, 0), x_dir=(1, 0, 0), z_dir=(0, 1, 0))):
            with Locations(Location((0, 12, 0), (0, 0, 270))):
                Circle(SKETCH_12_R)
            with Locations(Location((12, 0, 0), (0, 0, 270))):
                Circle(SKETCH_12_R)
            with Locations(Location((0, -12, 0), (0, 0, 270))):
                Circle(SKETCH_12_R)
            with Locations(Location((-12, 0, 0), (0, 0, 270))):
                Circle(SKETCH_12_R)
        extrude(amount=-CUT_EXTRUDE_11_DEPTH, mode=Mode.SUBTRACT)


solid = part.part
